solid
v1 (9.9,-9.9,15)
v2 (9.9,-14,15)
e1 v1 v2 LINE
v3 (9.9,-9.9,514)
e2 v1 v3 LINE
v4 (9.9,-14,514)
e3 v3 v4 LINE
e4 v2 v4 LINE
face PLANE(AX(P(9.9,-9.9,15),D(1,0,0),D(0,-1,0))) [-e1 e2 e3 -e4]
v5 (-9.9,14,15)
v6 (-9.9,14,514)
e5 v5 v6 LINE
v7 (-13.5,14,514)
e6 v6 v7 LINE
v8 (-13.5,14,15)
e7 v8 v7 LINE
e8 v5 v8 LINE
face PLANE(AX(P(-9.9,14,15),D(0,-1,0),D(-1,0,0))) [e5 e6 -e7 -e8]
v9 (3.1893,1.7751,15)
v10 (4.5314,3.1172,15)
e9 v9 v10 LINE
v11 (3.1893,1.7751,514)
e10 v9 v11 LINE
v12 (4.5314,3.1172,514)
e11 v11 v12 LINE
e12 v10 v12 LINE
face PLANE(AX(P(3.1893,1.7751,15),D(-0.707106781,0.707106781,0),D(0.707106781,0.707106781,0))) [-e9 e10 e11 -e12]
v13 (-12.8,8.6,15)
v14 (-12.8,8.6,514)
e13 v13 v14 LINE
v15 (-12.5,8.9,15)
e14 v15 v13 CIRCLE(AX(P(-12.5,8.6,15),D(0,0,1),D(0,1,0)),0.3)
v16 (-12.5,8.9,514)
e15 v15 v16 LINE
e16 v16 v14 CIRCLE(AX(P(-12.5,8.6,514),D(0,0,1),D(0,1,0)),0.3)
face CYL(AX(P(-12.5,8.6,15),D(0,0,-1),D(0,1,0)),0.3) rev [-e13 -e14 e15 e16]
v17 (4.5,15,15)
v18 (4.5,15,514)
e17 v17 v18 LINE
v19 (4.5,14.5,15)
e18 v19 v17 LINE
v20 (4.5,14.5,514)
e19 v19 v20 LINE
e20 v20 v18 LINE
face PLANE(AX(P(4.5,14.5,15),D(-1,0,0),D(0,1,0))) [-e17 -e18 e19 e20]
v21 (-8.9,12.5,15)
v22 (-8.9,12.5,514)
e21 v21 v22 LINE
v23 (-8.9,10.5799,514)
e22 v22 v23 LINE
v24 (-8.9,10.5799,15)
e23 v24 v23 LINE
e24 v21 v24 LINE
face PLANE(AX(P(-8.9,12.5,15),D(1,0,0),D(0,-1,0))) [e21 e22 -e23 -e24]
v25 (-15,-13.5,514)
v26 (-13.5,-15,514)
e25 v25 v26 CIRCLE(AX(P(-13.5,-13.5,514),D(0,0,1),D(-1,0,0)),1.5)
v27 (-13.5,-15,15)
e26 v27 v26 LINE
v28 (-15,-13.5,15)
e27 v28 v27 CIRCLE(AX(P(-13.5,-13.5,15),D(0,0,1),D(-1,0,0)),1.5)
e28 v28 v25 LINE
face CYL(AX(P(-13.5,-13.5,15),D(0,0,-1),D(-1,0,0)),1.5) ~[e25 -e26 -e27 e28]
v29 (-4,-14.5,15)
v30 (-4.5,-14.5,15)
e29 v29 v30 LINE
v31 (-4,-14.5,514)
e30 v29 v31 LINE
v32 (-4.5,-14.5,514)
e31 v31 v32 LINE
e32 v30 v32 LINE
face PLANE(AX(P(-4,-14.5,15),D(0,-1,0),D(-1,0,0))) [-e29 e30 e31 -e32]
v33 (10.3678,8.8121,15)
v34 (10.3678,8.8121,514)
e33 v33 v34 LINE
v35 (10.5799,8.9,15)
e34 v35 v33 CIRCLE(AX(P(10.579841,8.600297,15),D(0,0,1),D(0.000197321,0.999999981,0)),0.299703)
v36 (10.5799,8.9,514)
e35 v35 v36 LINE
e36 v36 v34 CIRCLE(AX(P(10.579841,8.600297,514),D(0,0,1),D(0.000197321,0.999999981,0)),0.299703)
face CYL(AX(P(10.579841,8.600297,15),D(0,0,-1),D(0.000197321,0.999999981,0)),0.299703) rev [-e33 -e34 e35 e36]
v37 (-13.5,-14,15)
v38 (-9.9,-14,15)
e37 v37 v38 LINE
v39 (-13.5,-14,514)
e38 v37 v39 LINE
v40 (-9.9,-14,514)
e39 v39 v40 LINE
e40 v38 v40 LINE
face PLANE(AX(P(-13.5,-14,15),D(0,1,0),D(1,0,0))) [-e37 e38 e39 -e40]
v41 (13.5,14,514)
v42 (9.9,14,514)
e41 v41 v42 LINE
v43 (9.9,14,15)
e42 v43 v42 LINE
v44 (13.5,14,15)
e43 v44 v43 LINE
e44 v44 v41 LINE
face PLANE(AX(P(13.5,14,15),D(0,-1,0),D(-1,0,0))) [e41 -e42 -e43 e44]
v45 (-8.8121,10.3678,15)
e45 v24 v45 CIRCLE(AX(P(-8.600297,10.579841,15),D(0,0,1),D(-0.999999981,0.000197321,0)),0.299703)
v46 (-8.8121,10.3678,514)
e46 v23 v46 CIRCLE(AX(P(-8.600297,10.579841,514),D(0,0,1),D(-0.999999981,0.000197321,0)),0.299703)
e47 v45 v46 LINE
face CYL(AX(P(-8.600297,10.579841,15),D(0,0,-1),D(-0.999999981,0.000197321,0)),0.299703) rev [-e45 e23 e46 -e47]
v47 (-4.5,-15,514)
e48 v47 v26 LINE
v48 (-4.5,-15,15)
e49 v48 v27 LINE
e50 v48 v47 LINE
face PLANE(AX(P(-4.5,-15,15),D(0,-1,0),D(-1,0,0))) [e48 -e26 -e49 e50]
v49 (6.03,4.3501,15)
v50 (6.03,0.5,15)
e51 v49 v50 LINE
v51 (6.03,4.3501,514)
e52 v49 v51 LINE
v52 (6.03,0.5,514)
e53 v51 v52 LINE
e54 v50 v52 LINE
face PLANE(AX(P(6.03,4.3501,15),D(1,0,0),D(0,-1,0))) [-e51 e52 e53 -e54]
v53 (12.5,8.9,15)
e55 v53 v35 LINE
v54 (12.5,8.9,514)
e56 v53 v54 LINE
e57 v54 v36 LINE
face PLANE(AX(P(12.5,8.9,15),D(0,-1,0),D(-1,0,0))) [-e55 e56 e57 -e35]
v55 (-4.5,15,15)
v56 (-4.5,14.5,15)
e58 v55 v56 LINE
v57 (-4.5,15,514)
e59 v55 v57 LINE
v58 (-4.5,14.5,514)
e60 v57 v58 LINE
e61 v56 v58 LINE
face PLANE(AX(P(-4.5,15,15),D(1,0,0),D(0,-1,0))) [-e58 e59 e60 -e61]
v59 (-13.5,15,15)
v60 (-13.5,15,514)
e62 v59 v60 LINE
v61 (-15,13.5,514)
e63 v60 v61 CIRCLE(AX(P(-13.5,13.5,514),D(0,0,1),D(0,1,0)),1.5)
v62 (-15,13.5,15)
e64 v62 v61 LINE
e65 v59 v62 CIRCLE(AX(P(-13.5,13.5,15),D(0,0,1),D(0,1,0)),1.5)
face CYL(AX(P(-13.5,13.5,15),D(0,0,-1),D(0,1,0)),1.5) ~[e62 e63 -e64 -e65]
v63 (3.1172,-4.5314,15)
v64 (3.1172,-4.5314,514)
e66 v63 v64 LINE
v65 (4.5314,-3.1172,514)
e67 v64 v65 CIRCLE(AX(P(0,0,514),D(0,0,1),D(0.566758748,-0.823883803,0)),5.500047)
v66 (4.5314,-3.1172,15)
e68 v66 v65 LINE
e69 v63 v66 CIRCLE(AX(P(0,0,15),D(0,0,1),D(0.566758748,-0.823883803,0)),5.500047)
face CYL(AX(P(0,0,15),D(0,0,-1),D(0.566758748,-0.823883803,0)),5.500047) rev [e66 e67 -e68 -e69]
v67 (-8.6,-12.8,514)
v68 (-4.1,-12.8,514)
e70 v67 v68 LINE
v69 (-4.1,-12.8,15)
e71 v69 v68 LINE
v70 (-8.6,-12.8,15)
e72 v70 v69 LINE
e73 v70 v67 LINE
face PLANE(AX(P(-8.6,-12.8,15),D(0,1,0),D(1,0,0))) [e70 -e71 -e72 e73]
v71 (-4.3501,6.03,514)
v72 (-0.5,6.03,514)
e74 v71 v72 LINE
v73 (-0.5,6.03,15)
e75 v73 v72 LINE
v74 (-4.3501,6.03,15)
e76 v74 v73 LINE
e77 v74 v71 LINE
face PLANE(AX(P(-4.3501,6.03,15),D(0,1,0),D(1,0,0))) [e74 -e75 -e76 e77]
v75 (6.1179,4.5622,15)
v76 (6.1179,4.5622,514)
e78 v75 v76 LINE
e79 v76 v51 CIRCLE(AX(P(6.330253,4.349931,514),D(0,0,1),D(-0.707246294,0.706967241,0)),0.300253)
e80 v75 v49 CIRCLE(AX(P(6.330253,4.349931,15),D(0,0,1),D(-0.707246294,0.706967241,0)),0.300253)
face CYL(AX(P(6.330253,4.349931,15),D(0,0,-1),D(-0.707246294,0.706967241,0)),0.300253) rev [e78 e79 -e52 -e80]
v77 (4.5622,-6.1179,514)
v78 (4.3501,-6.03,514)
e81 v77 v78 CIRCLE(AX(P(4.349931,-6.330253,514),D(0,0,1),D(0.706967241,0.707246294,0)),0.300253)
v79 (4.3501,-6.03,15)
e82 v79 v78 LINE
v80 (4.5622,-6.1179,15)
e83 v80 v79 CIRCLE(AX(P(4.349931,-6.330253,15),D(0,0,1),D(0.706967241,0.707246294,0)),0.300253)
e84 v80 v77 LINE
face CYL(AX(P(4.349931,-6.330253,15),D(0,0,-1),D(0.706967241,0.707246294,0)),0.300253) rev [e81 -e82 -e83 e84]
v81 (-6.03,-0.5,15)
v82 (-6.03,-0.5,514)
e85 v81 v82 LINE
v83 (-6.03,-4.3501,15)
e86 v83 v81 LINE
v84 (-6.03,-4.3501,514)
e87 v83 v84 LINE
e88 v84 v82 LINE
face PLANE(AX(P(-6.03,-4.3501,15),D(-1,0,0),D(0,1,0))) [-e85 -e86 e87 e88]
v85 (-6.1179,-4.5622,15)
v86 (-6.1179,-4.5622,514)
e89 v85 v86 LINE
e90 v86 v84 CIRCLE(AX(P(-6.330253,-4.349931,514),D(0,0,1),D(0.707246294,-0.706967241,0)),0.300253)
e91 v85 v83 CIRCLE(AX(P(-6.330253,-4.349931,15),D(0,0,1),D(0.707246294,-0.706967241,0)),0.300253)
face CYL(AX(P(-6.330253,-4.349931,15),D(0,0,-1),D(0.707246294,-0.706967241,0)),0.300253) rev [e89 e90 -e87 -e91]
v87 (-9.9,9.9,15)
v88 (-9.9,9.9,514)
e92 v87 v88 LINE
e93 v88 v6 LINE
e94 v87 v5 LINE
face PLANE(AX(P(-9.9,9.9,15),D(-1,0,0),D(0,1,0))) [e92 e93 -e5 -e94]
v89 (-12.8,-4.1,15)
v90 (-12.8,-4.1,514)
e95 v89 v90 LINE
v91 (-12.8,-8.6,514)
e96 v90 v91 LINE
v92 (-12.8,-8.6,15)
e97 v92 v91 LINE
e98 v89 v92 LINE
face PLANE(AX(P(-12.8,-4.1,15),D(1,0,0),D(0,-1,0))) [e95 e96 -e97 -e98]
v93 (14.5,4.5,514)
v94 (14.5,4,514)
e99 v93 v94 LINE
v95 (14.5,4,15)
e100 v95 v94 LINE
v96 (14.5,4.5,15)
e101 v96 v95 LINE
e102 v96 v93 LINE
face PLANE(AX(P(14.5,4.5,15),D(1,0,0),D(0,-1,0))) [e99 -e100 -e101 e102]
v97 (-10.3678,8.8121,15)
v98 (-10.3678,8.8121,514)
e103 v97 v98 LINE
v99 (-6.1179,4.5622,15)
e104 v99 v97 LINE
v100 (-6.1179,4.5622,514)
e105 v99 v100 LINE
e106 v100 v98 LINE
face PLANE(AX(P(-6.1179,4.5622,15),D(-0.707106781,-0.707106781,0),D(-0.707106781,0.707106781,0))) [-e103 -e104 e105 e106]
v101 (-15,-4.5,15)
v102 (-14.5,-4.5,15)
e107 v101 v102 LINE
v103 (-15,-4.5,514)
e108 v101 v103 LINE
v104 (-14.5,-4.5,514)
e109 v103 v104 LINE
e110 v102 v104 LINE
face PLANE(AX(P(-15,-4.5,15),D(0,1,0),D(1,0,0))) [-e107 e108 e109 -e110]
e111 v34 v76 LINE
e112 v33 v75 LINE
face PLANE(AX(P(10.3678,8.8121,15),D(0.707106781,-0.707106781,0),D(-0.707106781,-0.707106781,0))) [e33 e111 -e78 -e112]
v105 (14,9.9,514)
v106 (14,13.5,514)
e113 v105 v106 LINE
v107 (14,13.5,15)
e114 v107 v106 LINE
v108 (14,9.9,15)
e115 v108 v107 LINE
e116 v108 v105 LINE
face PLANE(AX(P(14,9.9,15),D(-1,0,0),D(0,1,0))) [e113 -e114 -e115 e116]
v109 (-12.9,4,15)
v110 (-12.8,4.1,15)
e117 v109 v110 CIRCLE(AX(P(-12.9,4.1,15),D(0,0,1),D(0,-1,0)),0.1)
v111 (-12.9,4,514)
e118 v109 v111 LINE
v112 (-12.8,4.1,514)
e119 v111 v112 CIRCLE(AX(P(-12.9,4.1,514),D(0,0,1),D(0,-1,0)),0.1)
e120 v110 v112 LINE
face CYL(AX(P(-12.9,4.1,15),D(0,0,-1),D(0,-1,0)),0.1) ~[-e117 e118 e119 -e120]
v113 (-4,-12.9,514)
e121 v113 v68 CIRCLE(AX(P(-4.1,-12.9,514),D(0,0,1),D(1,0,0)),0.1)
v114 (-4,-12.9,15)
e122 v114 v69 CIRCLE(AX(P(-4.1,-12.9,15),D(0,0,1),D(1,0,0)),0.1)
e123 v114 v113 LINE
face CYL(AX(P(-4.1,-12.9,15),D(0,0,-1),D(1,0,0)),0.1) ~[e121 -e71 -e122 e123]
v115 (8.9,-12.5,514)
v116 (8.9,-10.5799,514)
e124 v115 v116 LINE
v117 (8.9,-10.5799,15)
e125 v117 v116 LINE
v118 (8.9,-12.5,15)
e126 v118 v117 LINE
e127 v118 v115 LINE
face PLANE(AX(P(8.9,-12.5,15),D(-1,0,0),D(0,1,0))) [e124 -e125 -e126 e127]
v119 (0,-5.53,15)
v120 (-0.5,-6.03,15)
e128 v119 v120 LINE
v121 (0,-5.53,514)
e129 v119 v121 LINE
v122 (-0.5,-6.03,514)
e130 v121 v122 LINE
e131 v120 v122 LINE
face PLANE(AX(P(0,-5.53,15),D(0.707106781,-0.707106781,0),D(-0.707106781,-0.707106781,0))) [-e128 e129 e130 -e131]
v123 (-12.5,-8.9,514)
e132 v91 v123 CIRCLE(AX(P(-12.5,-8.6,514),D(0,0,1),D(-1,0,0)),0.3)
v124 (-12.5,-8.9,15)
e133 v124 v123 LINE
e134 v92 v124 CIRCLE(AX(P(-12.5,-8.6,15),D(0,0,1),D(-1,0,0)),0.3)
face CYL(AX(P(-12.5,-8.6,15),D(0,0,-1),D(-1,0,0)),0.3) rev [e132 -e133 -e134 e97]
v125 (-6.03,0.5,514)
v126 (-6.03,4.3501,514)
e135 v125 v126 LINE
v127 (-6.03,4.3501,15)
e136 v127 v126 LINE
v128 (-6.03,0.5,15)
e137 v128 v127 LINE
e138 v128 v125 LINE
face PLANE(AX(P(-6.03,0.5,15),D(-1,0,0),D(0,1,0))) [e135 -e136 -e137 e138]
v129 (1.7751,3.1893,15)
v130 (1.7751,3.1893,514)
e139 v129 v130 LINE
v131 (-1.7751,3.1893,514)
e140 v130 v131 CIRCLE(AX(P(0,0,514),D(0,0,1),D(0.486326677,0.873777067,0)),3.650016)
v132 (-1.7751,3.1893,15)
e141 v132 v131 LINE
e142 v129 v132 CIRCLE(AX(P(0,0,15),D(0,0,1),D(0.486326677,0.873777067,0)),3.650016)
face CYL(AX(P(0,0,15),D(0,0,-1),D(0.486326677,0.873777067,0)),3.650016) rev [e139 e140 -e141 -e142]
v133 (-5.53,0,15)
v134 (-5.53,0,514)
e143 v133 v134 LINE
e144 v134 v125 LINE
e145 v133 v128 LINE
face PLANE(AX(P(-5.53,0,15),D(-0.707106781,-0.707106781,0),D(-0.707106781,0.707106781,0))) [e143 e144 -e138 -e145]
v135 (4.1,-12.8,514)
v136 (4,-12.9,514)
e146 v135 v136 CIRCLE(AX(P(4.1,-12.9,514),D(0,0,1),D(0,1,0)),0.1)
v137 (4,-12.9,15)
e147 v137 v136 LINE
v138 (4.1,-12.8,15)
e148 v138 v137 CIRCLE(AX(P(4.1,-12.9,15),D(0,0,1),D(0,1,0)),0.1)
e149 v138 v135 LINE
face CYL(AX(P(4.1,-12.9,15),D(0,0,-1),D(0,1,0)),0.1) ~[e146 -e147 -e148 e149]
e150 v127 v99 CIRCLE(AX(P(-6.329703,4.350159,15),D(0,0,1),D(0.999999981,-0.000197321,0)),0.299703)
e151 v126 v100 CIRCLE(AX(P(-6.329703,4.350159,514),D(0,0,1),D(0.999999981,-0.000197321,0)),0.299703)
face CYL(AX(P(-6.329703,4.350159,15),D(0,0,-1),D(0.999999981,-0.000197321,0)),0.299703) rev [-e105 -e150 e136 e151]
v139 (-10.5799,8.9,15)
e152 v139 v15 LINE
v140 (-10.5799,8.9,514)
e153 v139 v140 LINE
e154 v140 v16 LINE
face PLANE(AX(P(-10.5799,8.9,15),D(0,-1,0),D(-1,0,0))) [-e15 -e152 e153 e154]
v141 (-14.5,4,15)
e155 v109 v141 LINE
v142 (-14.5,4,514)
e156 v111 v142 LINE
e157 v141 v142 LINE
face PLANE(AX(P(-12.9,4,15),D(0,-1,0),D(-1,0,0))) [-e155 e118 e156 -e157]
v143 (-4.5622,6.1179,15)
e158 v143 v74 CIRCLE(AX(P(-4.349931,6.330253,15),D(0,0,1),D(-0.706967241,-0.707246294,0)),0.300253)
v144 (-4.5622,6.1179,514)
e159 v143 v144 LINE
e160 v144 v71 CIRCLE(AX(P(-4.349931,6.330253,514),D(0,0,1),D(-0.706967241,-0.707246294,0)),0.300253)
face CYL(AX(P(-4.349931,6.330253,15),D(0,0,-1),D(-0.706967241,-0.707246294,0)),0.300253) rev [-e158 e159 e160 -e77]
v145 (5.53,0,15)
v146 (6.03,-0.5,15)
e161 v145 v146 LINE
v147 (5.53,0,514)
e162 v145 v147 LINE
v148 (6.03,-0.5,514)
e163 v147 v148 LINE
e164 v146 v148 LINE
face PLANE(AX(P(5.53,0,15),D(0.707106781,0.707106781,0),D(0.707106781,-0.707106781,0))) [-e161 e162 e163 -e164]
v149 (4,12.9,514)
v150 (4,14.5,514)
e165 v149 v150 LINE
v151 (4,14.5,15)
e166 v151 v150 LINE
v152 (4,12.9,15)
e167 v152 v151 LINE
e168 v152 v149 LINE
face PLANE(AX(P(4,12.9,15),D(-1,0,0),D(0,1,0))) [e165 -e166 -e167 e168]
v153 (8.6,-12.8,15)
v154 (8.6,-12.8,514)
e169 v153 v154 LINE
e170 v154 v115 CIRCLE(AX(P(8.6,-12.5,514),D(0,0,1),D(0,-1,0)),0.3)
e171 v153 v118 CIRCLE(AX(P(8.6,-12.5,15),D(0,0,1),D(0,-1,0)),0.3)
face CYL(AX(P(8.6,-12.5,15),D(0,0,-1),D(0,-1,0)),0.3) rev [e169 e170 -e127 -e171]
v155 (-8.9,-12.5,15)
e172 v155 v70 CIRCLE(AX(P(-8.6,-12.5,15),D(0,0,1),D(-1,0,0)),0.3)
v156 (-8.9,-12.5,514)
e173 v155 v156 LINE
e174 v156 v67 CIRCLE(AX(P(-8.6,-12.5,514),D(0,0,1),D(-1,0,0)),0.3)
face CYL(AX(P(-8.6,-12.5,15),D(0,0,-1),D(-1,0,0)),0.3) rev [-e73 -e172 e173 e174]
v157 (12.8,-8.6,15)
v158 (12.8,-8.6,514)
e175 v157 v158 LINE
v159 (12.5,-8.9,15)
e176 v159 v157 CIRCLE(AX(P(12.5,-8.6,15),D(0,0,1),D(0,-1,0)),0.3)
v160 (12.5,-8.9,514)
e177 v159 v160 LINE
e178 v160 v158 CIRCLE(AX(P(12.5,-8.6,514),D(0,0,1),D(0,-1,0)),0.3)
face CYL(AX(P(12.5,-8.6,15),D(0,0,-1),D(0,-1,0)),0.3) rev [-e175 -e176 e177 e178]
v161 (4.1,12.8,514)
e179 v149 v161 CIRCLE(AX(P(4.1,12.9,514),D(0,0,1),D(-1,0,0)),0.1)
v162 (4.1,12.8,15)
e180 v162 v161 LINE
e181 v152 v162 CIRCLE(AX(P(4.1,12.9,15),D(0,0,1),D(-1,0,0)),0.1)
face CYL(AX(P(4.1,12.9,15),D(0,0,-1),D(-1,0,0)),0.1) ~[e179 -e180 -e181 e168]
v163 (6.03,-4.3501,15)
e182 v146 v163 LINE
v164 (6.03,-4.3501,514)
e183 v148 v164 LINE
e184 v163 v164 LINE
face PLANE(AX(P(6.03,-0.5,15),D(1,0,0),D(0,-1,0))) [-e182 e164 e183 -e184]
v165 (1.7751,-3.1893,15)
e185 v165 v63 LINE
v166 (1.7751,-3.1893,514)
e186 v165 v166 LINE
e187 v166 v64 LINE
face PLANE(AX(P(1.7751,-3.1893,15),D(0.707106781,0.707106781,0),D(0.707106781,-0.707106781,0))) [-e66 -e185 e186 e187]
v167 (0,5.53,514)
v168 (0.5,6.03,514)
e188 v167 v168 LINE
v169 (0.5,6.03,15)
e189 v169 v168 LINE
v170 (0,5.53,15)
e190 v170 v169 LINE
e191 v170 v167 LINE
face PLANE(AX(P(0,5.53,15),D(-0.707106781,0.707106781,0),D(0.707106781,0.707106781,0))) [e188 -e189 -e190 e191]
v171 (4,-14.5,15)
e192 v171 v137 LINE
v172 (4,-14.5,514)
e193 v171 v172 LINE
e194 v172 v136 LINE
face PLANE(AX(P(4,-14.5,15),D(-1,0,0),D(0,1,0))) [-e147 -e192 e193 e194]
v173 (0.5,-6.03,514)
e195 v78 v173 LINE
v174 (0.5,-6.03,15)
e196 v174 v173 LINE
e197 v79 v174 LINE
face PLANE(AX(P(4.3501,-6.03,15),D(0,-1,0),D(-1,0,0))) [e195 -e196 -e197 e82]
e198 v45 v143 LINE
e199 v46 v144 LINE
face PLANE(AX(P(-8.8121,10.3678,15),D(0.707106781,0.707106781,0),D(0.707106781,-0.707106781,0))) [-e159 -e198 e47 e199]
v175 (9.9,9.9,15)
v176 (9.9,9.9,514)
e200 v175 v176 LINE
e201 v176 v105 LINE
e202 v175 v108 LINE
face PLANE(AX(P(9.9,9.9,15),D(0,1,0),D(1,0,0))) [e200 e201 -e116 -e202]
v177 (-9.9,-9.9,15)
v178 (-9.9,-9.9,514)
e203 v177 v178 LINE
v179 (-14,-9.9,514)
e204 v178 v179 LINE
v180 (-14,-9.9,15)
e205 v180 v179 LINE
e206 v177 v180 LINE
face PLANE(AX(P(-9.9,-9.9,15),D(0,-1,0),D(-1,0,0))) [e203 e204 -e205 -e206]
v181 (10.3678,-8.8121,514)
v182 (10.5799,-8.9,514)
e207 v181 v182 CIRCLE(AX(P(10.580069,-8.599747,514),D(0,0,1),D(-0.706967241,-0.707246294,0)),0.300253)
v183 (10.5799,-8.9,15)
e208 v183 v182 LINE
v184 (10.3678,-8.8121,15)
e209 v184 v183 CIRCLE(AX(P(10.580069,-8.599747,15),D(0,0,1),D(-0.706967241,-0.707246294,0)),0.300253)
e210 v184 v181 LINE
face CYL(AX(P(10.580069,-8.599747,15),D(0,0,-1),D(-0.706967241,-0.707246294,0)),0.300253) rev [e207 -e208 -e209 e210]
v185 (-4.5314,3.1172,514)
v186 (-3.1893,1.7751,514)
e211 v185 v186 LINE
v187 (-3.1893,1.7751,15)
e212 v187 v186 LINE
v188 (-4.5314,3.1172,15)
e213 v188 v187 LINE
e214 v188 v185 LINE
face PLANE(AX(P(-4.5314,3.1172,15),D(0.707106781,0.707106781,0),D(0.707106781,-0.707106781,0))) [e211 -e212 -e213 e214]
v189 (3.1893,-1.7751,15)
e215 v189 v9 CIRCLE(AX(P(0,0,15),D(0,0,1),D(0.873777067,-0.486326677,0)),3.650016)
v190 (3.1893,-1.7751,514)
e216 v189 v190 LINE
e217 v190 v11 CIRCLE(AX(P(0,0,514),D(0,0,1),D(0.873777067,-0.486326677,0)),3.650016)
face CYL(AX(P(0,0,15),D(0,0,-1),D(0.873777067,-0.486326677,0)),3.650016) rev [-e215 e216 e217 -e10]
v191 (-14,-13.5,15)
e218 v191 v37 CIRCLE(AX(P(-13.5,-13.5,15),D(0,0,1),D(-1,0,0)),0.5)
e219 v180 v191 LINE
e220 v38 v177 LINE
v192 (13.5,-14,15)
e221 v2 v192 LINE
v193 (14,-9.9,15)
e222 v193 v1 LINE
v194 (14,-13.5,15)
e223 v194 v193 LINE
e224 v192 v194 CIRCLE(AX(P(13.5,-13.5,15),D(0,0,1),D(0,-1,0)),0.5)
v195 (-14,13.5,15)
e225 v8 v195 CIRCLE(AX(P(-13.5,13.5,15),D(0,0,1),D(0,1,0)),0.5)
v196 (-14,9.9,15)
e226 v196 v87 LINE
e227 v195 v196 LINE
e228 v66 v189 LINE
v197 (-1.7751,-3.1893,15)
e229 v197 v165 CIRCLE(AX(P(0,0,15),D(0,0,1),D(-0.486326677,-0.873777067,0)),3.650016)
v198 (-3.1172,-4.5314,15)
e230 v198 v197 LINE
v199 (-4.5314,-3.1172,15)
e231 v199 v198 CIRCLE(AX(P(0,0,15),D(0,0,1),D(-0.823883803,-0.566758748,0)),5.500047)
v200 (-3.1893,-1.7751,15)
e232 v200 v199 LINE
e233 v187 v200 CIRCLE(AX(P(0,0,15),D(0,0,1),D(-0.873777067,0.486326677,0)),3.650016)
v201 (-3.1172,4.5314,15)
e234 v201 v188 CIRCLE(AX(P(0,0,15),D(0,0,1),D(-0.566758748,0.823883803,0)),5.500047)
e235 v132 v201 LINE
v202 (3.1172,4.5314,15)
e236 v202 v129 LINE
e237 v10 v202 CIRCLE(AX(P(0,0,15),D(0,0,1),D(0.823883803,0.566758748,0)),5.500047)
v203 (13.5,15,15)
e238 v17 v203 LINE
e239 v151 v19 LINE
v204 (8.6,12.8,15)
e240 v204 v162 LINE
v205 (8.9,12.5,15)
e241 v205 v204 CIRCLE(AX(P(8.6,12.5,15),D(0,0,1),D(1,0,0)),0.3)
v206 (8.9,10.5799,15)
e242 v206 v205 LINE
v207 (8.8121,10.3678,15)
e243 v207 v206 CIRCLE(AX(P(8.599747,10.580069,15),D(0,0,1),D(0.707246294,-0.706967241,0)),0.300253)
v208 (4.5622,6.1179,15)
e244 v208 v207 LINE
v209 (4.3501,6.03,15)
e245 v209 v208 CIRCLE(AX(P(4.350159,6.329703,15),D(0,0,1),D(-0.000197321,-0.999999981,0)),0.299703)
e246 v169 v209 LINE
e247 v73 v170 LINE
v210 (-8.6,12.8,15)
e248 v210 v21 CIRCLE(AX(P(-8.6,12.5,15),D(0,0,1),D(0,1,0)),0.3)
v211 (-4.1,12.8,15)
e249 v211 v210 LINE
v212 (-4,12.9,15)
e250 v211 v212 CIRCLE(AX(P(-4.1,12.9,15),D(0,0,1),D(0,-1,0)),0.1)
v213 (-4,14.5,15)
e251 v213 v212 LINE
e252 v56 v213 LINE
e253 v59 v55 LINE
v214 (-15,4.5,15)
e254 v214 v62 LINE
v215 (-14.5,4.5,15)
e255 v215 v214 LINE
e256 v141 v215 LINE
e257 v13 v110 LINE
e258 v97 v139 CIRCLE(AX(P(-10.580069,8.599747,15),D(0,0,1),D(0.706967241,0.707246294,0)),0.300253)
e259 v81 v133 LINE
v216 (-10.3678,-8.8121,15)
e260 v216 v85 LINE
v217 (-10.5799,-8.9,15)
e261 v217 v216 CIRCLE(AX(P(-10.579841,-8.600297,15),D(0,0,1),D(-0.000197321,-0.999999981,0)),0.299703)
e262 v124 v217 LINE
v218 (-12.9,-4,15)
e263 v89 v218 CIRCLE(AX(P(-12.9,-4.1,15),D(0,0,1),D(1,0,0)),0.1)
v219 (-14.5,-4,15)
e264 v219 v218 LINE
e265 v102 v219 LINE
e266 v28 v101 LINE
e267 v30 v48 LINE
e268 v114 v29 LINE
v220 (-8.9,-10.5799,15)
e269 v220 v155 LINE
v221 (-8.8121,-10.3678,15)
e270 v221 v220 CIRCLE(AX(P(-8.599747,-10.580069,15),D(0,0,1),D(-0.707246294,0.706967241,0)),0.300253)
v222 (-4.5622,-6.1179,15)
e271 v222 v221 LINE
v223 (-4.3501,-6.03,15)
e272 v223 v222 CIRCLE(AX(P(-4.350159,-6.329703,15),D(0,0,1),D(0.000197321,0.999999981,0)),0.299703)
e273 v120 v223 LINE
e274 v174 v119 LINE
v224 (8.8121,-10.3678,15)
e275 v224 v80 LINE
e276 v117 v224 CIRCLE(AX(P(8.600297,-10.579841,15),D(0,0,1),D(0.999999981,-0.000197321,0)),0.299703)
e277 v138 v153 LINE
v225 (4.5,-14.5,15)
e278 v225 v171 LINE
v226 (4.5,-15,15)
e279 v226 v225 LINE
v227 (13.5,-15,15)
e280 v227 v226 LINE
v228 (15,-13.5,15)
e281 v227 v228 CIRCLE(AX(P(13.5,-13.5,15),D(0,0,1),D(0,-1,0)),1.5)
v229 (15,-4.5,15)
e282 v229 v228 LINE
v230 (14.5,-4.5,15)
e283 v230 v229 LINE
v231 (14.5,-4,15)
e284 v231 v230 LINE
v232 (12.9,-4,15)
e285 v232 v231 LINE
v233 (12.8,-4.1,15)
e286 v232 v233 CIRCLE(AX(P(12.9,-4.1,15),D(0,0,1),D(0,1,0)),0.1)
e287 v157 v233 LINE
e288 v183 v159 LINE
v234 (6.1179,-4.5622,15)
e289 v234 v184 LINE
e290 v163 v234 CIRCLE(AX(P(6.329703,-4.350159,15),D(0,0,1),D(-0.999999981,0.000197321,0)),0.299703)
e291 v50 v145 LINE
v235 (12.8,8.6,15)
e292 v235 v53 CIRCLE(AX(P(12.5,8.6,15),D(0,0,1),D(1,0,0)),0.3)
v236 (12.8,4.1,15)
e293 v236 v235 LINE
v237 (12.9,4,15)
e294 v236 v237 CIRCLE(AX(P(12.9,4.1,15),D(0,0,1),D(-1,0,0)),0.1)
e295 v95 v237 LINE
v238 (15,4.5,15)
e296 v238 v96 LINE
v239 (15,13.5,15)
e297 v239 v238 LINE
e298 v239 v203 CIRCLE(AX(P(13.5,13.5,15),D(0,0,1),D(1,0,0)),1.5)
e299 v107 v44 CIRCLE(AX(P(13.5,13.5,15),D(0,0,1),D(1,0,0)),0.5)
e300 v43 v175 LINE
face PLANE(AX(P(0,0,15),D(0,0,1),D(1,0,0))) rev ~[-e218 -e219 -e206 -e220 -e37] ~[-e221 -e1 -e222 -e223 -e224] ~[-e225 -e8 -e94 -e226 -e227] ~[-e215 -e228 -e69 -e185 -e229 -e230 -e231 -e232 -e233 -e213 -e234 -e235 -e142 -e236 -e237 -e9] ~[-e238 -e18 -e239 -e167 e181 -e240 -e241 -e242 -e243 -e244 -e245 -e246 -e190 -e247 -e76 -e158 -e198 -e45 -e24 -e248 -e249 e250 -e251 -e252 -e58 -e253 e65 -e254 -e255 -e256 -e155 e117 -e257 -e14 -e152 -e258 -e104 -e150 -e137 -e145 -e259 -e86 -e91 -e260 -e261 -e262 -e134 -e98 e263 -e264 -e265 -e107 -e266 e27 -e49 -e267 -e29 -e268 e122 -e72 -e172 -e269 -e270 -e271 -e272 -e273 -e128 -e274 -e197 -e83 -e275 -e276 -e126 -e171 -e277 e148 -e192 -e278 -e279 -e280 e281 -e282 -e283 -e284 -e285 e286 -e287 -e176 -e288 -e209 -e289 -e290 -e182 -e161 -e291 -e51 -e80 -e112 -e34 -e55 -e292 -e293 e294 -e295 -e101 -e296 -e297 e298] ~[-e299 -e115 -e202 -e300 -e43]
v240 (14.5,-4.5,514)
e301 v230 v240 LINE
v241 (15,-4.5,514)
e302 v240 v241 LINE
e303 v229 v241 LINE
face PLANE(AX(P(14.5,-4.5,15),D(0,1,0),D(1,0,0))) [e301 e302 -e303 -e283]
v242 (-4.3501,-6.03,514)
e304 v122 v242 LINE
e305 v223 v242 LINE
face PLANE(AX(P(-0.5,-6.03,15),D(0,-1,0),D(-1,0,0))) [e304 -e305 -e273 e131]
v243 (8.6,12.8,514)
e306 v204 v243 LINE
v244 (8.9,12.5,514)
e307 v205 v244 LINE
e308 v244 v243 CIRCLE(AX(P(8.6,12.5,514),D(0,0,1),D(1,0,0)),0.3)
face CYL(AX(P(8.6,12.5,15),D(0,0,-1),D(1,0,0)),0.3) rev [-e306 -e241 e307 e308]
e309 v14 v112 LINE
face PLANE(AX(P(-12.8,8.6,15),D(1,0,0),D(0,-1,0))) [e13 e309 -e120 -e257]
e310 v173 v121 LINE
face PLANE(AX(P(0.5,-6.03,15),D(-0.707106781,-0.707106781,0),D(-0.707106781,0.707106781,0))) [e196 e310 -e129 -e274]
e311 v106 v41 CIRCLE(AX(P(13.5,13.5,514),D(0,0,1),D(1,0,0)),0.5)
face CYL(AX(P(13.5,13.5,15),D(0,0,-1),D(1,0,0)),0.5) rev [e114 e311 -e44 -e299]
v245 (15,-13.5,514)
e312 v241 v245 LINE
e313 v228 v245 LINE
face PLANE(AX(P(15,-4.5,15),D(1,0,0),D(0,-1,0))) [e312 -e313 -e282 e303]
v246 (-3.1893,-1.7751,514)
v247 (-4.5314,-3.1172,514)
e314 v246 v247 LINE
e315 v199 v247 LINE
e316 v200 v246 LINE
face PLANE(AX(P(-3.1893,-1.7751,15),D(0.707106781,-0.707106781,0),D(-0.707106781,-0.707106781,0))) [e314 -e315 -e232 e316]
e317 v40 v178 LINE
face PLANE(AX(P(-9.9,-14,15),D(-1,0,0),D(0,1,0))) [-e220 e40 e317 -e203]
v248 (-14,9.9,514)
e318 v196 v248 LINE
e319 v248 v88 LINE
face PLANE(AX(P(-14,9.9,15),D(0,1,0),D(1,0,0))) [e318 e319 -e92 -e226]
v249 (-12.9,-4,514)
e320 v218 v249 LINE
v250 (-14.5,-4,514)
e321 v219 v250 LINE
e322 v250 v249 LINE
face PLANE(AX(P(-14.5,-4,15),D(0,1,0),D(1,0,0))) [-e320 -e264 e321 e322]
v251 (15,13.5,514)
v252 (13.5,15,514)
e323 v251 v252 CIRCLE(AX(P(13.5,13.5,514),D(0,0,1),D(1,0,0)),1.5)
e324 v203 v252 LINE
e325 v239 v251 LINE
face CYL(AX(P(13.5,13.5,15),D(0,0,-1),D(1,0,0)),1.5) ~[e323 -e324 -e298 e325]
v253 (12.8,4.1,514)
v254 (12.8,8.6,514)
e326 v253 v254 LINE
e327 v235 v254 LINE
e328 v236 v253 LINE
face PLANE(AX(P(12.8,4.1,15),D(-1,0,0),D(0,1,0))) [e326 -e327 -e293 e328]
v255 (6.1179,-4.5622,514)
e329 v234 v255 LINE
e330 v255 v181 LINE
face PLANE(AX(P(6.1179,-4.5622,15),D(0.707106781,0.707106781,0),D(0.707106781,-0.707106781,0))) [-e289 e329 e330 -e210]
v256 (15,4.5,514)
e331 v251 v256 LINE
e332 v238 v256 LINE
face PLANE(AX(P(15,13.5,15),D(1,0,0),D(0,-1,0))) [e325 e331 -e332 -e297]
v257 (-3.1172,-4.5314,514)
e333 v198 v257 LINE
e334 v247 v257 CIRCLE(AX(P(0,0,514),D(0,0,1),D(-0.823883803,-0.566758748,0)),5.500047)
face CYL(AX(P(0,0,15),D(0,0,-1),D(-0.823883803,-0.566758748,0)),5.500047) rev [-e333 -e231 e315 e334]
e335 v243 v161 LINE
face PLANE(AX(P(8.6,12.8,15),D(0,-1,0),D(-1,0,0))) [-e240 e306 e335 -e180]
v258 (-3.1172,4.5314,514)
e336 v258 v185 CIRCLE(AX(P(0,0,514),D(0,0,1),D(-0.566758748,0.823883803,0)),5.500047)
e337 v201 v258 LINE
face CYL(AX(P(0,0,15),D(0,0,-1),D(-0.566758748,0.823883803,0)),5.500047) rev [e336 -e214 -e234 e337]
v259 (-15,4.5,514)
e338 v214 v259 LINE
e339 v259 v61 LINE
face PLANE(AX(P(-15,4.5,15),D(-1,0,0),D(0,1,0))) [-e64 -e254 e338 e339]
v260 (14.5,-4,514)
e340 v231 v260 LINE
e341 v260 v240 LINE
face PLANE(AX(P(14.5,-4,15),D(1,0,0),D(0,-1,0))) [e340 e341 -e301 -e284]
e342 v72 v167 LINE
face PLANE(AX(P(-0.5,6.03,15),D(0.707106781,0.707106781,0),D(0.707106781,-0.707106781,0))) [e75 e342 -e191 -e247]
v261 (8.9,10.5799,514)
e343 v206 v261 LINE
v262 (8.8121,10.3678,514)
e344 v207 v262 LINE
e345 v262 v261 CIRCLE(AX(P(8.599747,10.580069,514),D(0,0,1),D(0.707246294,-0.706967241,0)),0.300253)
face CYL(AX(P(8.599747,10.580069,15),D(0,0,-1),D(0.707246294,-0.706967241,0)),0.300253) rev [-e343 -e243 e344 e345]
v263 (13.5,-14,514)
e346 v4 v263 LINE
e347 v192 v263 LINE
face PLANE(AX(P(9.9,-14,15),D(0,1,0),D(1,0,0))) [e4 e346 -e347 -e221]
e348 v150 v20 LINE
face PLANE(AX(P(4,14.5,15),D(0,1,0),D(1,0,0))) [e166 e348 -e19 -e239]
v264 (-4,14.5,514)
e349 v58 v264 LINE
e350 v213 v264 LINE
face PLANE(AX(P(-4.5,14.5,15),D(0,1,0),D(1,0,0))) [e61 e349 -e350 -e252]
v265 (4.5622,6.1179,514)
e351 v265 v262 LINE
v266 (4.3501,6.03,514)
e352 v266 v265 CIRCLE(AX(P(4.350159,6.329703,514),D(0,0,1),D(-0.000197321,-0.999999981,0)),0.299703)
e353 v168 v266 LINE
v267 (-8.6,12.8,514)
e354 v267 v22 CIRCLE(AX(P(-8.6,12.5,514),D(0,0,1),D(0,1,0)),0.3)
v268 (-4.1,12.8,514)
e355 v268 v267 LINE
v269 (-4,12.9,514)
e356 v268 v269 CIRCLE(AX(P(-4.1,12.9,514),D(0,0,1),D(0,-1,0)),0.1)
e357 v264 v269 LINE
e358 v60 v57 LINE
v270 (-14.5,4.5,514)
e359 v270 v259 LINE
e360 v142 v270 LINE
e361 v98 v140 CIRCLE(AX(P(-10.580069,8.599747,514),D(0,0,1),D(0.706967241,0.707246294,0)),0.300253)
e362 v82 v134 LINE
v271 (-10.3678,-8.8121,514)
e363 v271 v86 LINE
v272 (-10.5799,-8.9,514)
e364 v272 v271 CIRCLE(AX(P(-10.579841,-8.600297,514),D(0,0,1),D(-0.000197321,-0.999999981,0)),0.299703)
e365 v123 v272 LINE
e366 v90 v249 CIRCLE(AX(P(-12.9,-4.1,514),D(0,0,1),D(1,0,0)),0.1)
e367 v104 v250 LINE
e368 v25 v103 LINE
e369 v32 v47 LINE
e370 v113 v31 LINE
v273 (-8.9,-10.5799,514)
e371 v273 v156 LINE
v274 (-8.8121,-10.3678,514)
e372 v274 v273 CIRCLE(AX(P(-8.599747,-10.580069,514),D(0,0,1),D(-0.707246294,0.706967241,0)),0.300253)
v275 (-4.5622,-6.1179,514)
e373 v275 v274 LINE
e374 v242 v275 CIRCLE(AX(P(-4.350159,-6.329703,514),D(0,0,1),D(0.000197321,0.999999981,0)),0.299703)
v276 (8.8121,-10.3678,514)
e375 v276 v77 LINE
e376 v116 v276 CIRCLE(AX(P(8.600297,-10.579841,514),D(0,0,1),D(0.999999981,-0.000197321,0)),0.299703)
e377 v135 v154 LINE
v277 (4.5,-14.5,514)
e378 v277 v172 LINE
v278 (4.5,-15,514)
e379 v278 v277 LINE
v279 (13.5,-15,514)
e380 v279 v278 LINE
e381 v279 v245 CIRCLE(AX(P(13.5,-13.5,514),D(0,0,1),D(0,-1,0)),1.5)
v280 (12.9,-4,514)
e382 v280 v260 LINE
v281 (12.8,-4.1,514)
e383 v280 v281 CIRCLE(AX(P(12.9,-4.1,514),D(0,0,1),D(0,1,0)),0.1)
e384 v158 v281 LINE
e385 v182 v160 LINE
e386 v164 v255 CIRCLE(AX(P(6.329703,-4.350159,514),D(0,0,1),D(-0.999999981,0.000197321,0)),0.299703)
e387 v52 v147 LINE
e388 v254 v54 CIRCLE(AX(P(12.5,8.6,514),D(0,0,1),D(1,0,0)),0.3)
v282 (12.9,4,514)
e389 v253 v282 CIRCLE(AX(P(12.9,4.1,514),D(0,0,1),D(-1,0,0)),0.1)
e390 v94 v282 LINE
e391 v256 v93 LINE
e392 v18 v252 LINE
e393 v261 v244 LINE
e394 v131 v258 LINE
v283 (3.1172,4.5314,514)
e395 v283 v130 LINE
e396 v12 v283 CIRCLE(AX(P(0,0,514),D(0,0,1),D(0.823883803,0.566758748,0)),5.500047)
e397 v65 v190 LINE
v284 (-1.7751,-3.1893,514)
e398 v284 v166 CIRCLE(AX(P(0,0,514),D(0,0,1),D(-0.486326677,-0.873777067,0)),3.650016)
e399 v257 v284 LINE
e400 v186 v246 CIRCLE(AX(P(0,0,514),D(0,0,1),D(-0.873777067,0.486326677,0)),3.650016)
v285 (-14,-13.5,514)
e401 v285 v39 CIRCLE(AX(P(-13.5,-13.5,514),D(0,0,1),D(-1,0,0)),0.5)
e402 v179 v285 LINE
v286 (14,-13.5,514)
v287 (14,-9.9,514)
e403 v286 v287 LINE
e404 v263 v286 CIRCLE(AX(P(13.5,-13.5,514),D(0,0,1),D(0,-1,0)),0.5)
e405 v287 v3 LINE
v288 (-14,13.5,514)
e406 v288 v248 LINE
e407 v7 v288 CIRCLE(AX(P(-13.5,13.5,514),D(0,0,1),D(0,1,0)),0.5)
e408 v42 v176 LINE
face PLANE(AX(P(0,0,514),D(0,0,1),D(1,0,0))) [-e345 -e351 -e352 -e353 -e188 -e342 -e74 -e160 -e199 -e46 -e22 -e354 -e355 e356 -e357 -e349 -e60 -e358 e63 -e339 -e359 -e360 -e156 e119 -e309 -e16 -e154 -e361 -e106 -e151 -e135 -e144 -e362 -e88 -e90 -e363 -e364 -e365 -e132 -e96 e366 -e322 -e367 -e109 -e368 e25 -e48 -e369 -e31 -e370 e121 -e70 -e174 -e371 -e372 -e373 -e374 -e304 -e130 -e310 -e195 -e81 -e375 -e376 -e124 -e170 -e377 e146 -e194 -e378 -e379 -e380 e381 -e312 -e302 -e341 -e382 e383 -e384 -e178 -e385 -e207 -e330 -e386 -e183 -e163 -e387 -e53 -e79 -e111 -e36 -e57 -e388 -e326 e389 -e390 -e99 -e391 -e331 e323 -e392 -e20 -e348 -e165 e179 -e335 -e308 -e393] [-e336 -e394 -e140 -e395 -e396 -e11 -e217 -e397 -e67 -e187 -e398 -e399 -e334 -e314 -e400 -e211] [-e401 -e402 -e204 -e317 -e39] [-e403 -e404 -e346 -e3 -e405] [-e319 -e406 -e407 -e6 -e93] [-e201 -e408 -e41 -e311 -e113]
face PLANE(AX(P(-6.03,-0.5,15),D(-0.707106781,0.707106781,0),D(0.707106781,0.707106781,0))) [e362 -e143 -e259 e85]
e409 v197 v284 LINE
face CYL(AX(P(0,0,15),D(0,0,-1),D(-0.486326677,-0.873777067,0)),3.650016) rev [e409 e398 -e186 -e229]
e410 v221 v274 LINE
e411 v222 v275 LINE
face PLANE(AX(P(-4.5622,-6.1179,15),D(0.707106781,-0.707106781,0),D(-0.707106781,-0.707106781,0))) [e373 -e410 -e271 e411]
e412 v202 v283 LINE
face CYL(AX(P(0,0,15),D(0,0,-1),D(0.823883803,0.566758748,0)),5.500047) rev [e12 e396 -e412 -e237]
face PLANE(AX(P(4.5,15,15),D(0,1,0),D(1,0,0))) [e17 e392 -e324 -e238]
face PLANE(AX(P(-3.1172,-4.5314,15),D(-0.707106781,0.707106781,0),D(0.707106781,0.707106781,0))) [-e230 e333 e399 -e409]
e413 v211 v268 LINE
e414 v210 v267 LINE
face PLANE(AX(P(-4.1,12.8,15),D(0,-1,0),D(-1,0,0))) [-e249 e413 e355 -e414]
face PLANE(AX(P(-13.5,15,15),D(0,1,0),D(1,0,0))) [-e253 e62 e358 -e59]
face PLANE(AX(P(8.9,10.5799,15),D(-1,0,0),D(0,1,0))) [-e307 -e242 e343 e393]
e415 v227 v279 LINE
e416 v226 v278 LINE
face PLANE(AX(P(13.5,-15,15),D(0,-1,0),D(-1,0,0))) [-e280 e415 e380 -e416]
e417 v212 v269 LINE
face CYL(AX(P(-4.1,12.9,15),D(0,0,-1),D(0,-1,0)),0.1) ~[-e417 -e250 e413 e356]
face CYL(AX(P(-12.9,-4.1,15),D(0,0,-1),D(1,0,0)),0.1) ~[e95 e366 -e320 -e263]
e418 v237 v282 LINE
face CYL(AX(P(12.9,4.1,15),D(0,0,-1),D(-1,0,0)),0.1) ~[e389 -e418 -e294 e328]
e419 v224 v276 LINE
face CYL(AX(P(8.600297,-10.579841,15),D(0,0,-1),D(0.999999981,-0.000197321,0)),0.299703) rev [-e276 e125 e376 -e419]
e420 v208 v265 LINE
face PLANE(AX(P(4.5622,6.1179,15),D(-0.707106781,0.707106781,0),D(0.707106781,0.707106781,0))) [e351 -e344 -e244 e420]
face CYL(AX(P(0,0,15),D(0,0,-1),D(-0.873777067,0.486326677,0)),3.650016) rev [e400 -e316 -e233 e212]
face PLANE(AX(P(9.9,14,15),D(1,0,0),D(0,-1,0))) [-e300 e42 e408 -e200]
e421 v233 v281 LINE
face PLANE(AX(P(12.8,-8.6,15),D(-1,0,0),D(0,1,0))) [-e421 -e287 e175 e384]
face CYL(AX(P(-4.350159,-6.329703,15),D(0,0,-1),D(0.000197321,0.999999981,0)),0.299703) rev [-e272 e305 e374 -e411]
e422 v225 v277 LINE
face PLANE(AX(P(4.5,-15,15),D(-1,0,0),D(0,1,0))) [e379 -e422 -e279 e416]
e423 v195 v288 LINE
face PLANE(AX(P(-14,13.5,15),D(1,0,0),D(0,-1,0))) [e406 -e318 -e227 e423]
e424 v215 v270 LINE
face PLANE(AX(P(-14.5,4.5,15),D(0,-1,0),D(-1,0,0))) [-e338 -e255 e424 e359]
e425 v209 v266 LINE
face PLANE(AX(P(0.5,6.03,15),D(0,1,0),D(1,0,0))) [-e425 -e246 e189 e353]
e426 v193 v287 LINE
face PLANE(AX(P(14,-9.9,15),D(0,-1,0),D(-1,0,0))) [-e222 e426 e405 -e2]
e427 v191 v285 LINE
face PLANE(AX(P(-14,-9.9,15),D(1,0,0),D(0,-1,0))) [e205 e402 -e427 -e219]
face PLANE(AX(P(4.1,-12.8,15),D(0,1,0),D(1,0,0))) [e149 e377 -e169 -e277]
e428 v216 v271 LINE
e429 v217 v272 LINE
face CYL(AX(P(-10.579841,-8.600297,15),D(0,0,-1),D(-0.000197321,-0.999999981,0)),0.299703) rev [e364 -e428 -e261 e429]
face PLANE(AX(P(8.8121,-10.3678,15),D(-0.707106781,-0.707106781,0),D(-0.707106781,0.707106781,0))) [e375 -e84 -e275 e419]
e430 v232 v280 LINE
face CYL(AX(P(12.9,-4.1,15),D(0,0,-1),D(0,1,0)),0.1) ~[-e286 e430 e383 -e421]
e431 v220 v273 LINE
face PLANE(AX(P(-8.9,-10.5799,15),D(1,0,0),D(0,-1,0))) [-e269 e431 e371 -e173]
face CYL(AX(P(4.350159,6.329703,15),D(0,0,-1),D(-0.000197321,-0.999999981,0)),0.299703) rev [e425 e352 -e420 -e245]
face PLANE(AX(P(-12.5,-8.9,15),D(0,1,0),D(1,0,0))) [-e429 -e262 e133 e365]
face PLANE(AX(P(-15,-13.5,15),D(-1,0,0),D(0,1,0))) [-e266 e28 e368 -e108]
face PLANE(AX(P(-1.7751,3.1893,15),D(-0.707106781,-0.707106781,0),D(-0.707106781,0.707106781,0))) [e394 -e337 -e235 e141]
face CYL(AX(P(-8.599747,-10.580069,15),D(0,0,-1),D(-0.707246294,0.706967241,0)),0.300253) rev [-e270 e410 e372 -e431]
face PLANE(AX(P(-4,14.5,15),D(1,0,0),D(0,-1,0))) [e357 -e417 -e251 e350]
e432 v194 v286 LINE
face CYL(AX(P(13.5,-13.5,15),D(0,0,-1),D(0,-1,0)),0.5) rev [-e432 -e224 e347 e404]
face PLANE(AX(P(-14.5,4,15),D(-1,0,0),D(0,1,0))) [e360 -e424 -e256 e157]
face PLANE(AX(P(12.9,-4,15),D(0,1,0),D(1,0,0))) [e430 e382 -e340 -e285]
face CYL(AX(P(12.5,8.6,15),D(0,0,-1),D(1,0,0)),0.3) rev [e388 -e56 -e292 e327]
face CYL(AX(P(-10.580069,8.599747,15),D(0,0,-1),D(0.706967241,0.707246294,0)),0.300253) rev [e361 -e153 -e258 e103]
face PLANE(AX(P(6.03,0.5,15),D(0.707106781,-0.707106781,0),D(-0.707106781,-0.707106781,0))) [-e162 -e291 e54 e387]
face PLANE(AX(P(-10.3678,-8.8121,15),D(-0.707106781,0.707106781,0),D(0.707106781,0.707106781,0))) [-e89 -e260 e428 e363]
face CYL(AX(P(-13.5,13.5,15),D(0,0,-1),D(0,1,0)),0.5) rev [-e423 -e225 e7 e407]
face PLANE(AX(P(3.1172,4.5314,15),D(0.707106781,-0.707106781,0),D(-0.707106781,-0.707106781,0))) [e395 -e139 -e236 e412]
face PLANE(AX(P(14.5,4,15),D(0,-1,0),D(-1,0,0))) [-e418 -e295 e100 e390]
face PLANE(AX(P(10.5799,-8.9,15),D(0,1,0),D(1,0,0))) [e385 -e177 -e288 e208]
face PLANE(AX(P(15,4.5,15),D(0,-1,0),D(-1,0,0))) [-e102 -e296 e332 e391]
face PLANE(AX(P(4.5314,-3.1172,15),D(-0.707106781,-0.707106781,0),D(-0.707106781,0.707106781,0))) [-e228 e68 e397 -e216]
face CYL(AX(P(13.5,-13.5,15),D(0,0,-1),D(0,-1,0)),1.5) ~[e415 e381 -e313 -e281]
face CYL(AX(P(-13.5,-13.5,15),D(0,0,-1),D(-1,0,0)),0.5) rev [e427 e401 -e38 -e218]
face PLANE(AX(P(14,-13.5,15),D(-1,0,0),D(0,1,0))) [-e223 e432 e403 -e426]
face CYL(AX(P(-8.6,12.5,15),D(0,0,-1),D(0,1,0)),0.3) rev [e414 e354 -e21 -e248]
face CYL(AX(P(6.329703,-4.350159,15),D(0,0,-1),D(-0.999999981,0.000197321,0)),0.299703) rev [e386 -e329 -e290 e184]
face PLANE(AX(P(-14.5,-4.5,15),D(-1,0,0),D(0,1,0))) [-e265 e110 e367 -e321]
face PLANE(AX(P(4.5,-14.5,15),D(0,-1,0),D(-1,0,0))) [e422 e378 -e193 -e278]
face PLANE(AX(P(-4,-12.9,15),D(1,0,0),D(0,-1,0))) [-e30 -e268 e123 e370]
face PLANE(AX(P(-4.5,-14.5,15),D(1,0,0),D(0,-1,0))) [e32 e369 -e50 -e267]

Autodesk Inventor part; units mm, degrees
ref_plane "Płaszczyzna początkowa" through (0, 0, 15) normal (0, 0, 1) x (1, 0, 0)
ref_plane "Płaszczyzna końcowa" through (0, 0, 514) normal (0, 0, 1) x (1, 0, 0)
sketch "Szkic" plane through (0, 0, 0) normal (0, 0, 1) x (1, 0, 0)
  line L0 (1.7751, -3.1893) -> (3.1172, -4.5314)
  arc A0 (-1.7751, -3.1893) -> (1.7751, -3.1893) centre (0, 0) ccw
  line L1 (-3.1172, -4.5314) -> (-1.7751, -3.1893)
  arc A1 (-4.5314, -3.1172) -> (-3.1172, -4.5314) centre (0, 0) ccw
  line L2 (-3.1893, -1.7751) -> (-4.5314, -3.1172)
  arc A2 (-3.1893, 1.7751) -> (-3.1893, -1.7751) centre (0, 0) ccw
  line L3 (-4.5314, 3.1172) -> (-3.1893, 1.7751)
  arc A3 (-3.1172, 4.5314) -> (-4.5314, 3.1172) centre (0, 0) ccw
  line L4 (-1.7751, 3.1893) -> (-3.1172, 4.5314)
  arc A4 (1.7751, 3.1893) -> (-1.7751, 3.1893) centre (0, 0) ccw
  line L5 (3.1172, 4.5314) -> (1.7751, 3.1893)
  arc A5 (4.5314, 3.1172) -> (3.1172, 4.5314) centre (0, 0) ccw
  line L6 (3.1893, 1.7751) -> (4.5314, 3.1172)
  arc A6 (3.1893, -1.7751) -> (3.1893, 1.7751) centre (0, 0) ccw
  line L7 (4.5314, -3.1172) -> (3.1893, -1.7751)
  arc A7 (3.1172, -4.5314) -> (4.5314, -3.1172) centre (0, 0) ccw
  line L8 (14, -13.5) -> (14, -9.9)
  arc A8 (13.5, -14) -> (14, -13.5) centre (13.5, -13.5) ccw
  line L9 (9.9, -14) -> (13.5, -14)
  line L10 (9.9, -9.9) -> (9.9, -14)
  line L11 (14, -9.9) -> (9.9, -9.9)
  line L12 (-9.9, -9.9) -> (-14, -9.9)
  line L13 (-9.9, -14) -> (-9.9, -9.9)
  line L14 (-13.5, -14) -> (-9.9, -14)
  arc A9 (-14, -13.5) -> (-13.5, -14) centre (-13.5, -13.5) ccw
  line L15 (-14, -9.9) -> (-14, -13.5)
  line L16 (14, 9.9) -> (14, 13.5)
  line L17 (9.9, 9.9) -> (14, 9.9)
  line L18 (9.9, 14) -> (9.9, 9.9)
  line L19 (13.5, 14) -> (9.9, 14)
  arc A10 (14, 13.5) -> (13.5, 14) centre (13.5, 13.5) ccw
  line L20 (-14, 9.9) -> (-9.9, 9.9)
  line L21 (-14, 13.5) -> (-14, 9.9)
  arc A11 (-13.5, 14) -> (-14, 13.5) centre (-13.5, 13.5) ccw
  line L22 (-9.9, 14) -> (-13.5, 14)
  line L23 (-9.9, 9.9) -> (-9.9, 14)
  line L24 (13.5, -15) -> (4.5, -15)
  arc A12 (13.5, -15) -> (15, -13.5) centre (13.5, -13.5) ccw
  line L25 (15, -4.5) -> (15, -13.5)
  line L26 (14.5, -4.5) -> (15, -4.5)
  line L27 (14.5, -4) -> (14.5, -4.5)
  line L28 (12.9, -4) -> (14.5, -4)
  arc A13 (12.9, -4) -> (12.8, -4.1) centre (12.9, -4.1) ccw
  line L29 (12.8, -8.6) -> (12.8, -4.1)
  arc A14 (12.5, -8.9) -> (12.8, -8.6) centre (12.5, -8.6) ccw
  line L30 (10.5799, -8.9) -> (12.5, -8.9)
  arc A15 (10.3678, -8.8121) -> (10.5799, -8.9) centre (10.5799, -8.6) ccw
  line L31 (6.1179, -4.5622) -> (10.3678, -8.8121)
  arc A16 (6.03, -4.3501) -> (6.1179, -4.5622) centre (6.33, -4.3501) ccw
  line L32 (6.03, -0.5) -> (6.03, -4.3501)
  line L33 (5.53, 0) -> (6.03, -0.5)
  line L34 (6.03, 0.5) -> (5.53, 0)
  line L35 (6.03, 4.3501) -> (6.03, 0.5)
  arc A17 (6.1179, 4.5622) -> (6.03, 4.3501) centre (6.33, 4.3501) ccw
  line L36 (10.3678, 8.8121) -> (6.1179, 4.5622)
  arc A18 (10.5799, 8.9) -> (10.3678, 8.8121) centre (10.5799, 8.6) ccw
  line L37 (12.5, 8.9) -> (10.5799, 8.9)
  arc A19 (12.8, 8.6) -> (12.5, 8.9) centre (12.5, 8.6) ccw
  line L38 (12.8, 4.1) -> (12.8, 8.6)
  arc A20 (12.8, 4.1) -> (12.9, 4) centre (12.9, 4.1) ccw
  line L39 (14.5, 4) -> (12.9, 4)
  line L40 (14.5, 4.5) -> (14.5, 4)
  line L41 (15, 4.5) -> (14.5, 4.5)
  line L42 (15, 13.5) -> (15, 4.5)
  arc A21 (15, 13.5) -> (13.5, 15) centre (13.5, 13.5) ccw
  line L43 (4.5, 15) -> (13.5, 15)
  line L44 (4.5, 14.5) -> (4.5, 15)
  line L45 (4, 14.5) -> (4.5, 14.5)
  line L46 (4, 12.9) -> (4, 14.5)
  arc A22 (4, 12.9) -> (4.1, 12.8) centre (4.1, 12.9) ccw
  line L47 (8.6, 12.8) -> (4.1, 12.8)
  arc A23 (8.9, 12.5) -> (8.6, 12.8) centre (8.6, 12.5) ccw
  line L48 (8.9, 10.5799) -> (8.9, 12.5)
  arc A24 (8.8121, 10.3678) -> (8.9, 10.5799) centre (8.6, 10.5799) ccw
  line L49 (4.5622, 6.1179) -> (8.8121, 10.3678)
  arc A25 (4.3501, 6.03) -> (4.5622, 6.1179) centre (4.3501, 6.33) ccw
  line L50 (0.5, 6.03) -> (4.3501, 6.03)
  line L51 (0, 5.53) -> (0.5, 6.03)
  line L52 (-0.5, 6.03) -> (0, 5.53)
  line L53 (-4.3501, 6.03) -> (-0.5, 6.03)
  arc A26 (-4.5622, 6.1179) -> (-4.3501, 6.03) centre (-4.3501, 6.33) ccw
  line L54 (-8.8121, 10.3678) -> (-4.5622, 6.1179)
  arc A27 (-8.9, 10.5799) -> (-8.8121, 10.3678) centre (-8.6, 10.5799) ccw
  line L55 (-8.9, 12.5) -> (-8.9, 10.5799)
  arc A28 (-8.6, 12.8) -> (-8.9, 12.5) centre (-8.6, 12.5) ccw
  line L56 (-4.1, 12.8) -> (-8.6, 12.8)
  arc A29 (-4.1, 12.8) -> (-4, 12.9) centre (-4.1, 12.9) ccw
  line L57 (-4, 14.5) -> (-4, 12.9)
  line L58 (-4.5, 14.5) -> (-4, 14.5)
  line L59 (-4.5, 15) -> (-4.5, 14.5)
  line L60 (-13.5, 15) -> (-4.5, 15)
  arc A30 (-13.5, 15) -> (-15, 13.5) centre (-13.5, 13.5) ccw
  line L61 (-15, 4.5) -> (-15, 13.5)
  line L62 (-14.5, 4.5) -> (-15, 4.5)
  line L63 (-14.5, 4) -> (-14.5, 4.5)
  line L64 (-12.9, 4) -> (-14.5, 4)
  arc A31 (-12.9, 4) -> (-12.8, 4.1) centre (-12.9, 4.1) ccw
  line L65 (-12.8, 8.6) -> (-12.8, 4.1)
  arc A32 (-12.5, 8.9) -> (-12.8, 8.6) centre (-12.5, 8.6) ccw
  line L66 (-10.5799, 8.9) -> (-12.5, 8.9)
  arc A33 (-10.3678, 8.8121) -> (-10.5799, 8.9) centre (-10.5799, 8.6) ccw
  line L67 (-6.1179, 4.5622) -> (-10.3678, 8.8121)
  arc A34 (-6.03, 4.3501) -> (-6.1179, 4.5622) centre (-6.33, 4.3501) ccw
  line L68 (-6.03, 0.5) -> (-6.03, 4.3501)
  line L69 (-5.53, 0) -> (-6.03, 0.5)
  line L70 (-6.03, -0.5) -> (-5.53, 0)
  line L71 (-6.03, -4.3501) -> (-6.03, -0.5)
  arc A35 (-6.1179, -4.5622) -> (-6.03, -4.3501) centre (-6.33, -4.3501) ccw
  line L72 (-10.3678, -8.8121) -> (-6.1179, -4.5622)
  arc A36 (-10.5799, -8.9) -> (-10.3678, -8.8121) centre (-10.5799, -8.6) ccw
  line L73 (-12.5, -8.9) -> (-10.5799, -8.9)
  arc A37 (-12.8, -8.6) -> (-12.5, -8.9) centre (-12.5, -8.6) ccw
  line L74 (-12.8, -4.1) -> (-12.8, -8.6)
  arc A38 (-12.8, -4.1) -> (-12.9, -4) centre (-12.9, -4.1) ccw
  line L75 (-14.5, -4) -> (-12.9, -4)
  line L76 (-14.5, -4.5) -> (-14.5, -4)
  line L77 (-15, -4.5) -> (-14.5, -4.5)
  line L78 (-15, -13.5) -> (-15, -4.5)
  arc A39 (-15, -13.5) -> (-13.5, -15) centre (-13.5, -13.5) ccw
  line L79 (-4.5, -15) -> (-13.5, -15)
  line L80 (-4.5, -14.5) -> (-4.5, -15)
  line L81 (-4, -14.5) -> (-4.5, -14.5)
  line L82 (-4, -12.9) -> (-4, -14.5)
  arc A40 (-4, -12.9) -> (-4.1, -12.8) centre (-4.1, -12.9) ccw
  line L83 (-8.6, -12.8) -> (-4.1, -12.8)
  arc A41 (-8.9, -12.5) -> (-8.6, -12.8) centre (-8.6, -12.5) ccw
  line L84 (-8.9, -10.5799) -> (-8.9, -12.5)
  arc A42 (-8.8121, -10.3678) -> (-8.9, -10.5799) centre (-8.6, -10.5799) ccw
  line L85 (-4.5622, -6.1179) -> (-8.8121, -10.3678)
  arc A43 (-4.3501, -6.03) -> (-4.5622, -6.1179) centre (-4.3501, -6.33) ccw
  line L86 (-0.5, -6.03) -> (-4.3501, -6.03)
  line L87 (0, -5.53) -> (-0.5, -6.03)
  line L88 (0.5, -6.03) -> (0, -5.53)
  line L89 (4.3501, -6.03) -> (0.5, -6.03)
  arc A44 (4.5622, -6.1179) -> (4.3501, -6.03) centre (4.3501, -6.33) ccw
  line L90 (8.8121, -10.3678) -> (4.5622, -6.1179)
  arc A45 (8.9, -10.5799) -> (8.8121, -10.3678) centre (8.6, -10.5799) ccw
  line L91 (8.9, -12.5) -> (8.9, -10.5799)
  arc A46 (8.6, -12.8) -> (8.9, -12.5) centre (8.6, -12.5) ccw
  line L92 (4.1, -12.8) -> (8.6, -12.8)
  arc A47 (4.1, -12.8) -> (4, -12.9) centre (4.1, -12.9) ccw
  line L93 (4, -14.5) -> (4, -12.9)
  line L94 (4.5, -14.5) -> (4, -14.5)
  line L95 (4.5, -15) -> (4.5, -14.5)
  point P0 (15, -15)
extrude "Bryła" add sketch "Szkic" along normal up to surface (499 mm away) from surface at 15
sketch "Szkic2" plane through (0, 0, 0) normal (0, 0, 1) x (1, 0, 0)
  line L0 (0, 0) -> (10, 0)
ref_plane "Płaszczyzna konstrukcyjna3" through (0, 0, 0) normal (0, -1, 0) x (1, 0, 0)
sketch "Szkic3" plane through (0, 0, 0) normal (0, -1, 0) x (1, 0, 0)
  line L0 (-2, 15) -> (12, 15)
  line L1 (-2, 514) -> (12, 514)
  dimension "d7" = 499
ref_plane "Płaszczyzna konstrukcyjna4" through (13.5, -460, 514) normal (0, 0, 1) x (1, 0, 0)
split "Podział1" plane through (13.5, -460, 514) removes the side toward (0, 0, 1)
ref_plane "Płaszczyzna konstrukcyjna5" through (13.5, 100, 15) normal (0, 0, -1) x (-1, 0, 0)
split "Podział2" plane through (13.5, 100, 15) removes the side toward (0, 0, -1)
equation "\"G_OFFSET_START\" = -15"
equation "\"G_OFFSET_END\" = -15"
equation "\"d2\" = -G_OFFSET_START"
equation "\"d3\" = Length + G_OFFSET_END"
equation "\"G_L\" = d7"
equation "\"Length\" = 529"
properties part number "COTS_ARMA_AR3703_30x30_Alu_Extr_00000009" material "Aluminium 6061"
